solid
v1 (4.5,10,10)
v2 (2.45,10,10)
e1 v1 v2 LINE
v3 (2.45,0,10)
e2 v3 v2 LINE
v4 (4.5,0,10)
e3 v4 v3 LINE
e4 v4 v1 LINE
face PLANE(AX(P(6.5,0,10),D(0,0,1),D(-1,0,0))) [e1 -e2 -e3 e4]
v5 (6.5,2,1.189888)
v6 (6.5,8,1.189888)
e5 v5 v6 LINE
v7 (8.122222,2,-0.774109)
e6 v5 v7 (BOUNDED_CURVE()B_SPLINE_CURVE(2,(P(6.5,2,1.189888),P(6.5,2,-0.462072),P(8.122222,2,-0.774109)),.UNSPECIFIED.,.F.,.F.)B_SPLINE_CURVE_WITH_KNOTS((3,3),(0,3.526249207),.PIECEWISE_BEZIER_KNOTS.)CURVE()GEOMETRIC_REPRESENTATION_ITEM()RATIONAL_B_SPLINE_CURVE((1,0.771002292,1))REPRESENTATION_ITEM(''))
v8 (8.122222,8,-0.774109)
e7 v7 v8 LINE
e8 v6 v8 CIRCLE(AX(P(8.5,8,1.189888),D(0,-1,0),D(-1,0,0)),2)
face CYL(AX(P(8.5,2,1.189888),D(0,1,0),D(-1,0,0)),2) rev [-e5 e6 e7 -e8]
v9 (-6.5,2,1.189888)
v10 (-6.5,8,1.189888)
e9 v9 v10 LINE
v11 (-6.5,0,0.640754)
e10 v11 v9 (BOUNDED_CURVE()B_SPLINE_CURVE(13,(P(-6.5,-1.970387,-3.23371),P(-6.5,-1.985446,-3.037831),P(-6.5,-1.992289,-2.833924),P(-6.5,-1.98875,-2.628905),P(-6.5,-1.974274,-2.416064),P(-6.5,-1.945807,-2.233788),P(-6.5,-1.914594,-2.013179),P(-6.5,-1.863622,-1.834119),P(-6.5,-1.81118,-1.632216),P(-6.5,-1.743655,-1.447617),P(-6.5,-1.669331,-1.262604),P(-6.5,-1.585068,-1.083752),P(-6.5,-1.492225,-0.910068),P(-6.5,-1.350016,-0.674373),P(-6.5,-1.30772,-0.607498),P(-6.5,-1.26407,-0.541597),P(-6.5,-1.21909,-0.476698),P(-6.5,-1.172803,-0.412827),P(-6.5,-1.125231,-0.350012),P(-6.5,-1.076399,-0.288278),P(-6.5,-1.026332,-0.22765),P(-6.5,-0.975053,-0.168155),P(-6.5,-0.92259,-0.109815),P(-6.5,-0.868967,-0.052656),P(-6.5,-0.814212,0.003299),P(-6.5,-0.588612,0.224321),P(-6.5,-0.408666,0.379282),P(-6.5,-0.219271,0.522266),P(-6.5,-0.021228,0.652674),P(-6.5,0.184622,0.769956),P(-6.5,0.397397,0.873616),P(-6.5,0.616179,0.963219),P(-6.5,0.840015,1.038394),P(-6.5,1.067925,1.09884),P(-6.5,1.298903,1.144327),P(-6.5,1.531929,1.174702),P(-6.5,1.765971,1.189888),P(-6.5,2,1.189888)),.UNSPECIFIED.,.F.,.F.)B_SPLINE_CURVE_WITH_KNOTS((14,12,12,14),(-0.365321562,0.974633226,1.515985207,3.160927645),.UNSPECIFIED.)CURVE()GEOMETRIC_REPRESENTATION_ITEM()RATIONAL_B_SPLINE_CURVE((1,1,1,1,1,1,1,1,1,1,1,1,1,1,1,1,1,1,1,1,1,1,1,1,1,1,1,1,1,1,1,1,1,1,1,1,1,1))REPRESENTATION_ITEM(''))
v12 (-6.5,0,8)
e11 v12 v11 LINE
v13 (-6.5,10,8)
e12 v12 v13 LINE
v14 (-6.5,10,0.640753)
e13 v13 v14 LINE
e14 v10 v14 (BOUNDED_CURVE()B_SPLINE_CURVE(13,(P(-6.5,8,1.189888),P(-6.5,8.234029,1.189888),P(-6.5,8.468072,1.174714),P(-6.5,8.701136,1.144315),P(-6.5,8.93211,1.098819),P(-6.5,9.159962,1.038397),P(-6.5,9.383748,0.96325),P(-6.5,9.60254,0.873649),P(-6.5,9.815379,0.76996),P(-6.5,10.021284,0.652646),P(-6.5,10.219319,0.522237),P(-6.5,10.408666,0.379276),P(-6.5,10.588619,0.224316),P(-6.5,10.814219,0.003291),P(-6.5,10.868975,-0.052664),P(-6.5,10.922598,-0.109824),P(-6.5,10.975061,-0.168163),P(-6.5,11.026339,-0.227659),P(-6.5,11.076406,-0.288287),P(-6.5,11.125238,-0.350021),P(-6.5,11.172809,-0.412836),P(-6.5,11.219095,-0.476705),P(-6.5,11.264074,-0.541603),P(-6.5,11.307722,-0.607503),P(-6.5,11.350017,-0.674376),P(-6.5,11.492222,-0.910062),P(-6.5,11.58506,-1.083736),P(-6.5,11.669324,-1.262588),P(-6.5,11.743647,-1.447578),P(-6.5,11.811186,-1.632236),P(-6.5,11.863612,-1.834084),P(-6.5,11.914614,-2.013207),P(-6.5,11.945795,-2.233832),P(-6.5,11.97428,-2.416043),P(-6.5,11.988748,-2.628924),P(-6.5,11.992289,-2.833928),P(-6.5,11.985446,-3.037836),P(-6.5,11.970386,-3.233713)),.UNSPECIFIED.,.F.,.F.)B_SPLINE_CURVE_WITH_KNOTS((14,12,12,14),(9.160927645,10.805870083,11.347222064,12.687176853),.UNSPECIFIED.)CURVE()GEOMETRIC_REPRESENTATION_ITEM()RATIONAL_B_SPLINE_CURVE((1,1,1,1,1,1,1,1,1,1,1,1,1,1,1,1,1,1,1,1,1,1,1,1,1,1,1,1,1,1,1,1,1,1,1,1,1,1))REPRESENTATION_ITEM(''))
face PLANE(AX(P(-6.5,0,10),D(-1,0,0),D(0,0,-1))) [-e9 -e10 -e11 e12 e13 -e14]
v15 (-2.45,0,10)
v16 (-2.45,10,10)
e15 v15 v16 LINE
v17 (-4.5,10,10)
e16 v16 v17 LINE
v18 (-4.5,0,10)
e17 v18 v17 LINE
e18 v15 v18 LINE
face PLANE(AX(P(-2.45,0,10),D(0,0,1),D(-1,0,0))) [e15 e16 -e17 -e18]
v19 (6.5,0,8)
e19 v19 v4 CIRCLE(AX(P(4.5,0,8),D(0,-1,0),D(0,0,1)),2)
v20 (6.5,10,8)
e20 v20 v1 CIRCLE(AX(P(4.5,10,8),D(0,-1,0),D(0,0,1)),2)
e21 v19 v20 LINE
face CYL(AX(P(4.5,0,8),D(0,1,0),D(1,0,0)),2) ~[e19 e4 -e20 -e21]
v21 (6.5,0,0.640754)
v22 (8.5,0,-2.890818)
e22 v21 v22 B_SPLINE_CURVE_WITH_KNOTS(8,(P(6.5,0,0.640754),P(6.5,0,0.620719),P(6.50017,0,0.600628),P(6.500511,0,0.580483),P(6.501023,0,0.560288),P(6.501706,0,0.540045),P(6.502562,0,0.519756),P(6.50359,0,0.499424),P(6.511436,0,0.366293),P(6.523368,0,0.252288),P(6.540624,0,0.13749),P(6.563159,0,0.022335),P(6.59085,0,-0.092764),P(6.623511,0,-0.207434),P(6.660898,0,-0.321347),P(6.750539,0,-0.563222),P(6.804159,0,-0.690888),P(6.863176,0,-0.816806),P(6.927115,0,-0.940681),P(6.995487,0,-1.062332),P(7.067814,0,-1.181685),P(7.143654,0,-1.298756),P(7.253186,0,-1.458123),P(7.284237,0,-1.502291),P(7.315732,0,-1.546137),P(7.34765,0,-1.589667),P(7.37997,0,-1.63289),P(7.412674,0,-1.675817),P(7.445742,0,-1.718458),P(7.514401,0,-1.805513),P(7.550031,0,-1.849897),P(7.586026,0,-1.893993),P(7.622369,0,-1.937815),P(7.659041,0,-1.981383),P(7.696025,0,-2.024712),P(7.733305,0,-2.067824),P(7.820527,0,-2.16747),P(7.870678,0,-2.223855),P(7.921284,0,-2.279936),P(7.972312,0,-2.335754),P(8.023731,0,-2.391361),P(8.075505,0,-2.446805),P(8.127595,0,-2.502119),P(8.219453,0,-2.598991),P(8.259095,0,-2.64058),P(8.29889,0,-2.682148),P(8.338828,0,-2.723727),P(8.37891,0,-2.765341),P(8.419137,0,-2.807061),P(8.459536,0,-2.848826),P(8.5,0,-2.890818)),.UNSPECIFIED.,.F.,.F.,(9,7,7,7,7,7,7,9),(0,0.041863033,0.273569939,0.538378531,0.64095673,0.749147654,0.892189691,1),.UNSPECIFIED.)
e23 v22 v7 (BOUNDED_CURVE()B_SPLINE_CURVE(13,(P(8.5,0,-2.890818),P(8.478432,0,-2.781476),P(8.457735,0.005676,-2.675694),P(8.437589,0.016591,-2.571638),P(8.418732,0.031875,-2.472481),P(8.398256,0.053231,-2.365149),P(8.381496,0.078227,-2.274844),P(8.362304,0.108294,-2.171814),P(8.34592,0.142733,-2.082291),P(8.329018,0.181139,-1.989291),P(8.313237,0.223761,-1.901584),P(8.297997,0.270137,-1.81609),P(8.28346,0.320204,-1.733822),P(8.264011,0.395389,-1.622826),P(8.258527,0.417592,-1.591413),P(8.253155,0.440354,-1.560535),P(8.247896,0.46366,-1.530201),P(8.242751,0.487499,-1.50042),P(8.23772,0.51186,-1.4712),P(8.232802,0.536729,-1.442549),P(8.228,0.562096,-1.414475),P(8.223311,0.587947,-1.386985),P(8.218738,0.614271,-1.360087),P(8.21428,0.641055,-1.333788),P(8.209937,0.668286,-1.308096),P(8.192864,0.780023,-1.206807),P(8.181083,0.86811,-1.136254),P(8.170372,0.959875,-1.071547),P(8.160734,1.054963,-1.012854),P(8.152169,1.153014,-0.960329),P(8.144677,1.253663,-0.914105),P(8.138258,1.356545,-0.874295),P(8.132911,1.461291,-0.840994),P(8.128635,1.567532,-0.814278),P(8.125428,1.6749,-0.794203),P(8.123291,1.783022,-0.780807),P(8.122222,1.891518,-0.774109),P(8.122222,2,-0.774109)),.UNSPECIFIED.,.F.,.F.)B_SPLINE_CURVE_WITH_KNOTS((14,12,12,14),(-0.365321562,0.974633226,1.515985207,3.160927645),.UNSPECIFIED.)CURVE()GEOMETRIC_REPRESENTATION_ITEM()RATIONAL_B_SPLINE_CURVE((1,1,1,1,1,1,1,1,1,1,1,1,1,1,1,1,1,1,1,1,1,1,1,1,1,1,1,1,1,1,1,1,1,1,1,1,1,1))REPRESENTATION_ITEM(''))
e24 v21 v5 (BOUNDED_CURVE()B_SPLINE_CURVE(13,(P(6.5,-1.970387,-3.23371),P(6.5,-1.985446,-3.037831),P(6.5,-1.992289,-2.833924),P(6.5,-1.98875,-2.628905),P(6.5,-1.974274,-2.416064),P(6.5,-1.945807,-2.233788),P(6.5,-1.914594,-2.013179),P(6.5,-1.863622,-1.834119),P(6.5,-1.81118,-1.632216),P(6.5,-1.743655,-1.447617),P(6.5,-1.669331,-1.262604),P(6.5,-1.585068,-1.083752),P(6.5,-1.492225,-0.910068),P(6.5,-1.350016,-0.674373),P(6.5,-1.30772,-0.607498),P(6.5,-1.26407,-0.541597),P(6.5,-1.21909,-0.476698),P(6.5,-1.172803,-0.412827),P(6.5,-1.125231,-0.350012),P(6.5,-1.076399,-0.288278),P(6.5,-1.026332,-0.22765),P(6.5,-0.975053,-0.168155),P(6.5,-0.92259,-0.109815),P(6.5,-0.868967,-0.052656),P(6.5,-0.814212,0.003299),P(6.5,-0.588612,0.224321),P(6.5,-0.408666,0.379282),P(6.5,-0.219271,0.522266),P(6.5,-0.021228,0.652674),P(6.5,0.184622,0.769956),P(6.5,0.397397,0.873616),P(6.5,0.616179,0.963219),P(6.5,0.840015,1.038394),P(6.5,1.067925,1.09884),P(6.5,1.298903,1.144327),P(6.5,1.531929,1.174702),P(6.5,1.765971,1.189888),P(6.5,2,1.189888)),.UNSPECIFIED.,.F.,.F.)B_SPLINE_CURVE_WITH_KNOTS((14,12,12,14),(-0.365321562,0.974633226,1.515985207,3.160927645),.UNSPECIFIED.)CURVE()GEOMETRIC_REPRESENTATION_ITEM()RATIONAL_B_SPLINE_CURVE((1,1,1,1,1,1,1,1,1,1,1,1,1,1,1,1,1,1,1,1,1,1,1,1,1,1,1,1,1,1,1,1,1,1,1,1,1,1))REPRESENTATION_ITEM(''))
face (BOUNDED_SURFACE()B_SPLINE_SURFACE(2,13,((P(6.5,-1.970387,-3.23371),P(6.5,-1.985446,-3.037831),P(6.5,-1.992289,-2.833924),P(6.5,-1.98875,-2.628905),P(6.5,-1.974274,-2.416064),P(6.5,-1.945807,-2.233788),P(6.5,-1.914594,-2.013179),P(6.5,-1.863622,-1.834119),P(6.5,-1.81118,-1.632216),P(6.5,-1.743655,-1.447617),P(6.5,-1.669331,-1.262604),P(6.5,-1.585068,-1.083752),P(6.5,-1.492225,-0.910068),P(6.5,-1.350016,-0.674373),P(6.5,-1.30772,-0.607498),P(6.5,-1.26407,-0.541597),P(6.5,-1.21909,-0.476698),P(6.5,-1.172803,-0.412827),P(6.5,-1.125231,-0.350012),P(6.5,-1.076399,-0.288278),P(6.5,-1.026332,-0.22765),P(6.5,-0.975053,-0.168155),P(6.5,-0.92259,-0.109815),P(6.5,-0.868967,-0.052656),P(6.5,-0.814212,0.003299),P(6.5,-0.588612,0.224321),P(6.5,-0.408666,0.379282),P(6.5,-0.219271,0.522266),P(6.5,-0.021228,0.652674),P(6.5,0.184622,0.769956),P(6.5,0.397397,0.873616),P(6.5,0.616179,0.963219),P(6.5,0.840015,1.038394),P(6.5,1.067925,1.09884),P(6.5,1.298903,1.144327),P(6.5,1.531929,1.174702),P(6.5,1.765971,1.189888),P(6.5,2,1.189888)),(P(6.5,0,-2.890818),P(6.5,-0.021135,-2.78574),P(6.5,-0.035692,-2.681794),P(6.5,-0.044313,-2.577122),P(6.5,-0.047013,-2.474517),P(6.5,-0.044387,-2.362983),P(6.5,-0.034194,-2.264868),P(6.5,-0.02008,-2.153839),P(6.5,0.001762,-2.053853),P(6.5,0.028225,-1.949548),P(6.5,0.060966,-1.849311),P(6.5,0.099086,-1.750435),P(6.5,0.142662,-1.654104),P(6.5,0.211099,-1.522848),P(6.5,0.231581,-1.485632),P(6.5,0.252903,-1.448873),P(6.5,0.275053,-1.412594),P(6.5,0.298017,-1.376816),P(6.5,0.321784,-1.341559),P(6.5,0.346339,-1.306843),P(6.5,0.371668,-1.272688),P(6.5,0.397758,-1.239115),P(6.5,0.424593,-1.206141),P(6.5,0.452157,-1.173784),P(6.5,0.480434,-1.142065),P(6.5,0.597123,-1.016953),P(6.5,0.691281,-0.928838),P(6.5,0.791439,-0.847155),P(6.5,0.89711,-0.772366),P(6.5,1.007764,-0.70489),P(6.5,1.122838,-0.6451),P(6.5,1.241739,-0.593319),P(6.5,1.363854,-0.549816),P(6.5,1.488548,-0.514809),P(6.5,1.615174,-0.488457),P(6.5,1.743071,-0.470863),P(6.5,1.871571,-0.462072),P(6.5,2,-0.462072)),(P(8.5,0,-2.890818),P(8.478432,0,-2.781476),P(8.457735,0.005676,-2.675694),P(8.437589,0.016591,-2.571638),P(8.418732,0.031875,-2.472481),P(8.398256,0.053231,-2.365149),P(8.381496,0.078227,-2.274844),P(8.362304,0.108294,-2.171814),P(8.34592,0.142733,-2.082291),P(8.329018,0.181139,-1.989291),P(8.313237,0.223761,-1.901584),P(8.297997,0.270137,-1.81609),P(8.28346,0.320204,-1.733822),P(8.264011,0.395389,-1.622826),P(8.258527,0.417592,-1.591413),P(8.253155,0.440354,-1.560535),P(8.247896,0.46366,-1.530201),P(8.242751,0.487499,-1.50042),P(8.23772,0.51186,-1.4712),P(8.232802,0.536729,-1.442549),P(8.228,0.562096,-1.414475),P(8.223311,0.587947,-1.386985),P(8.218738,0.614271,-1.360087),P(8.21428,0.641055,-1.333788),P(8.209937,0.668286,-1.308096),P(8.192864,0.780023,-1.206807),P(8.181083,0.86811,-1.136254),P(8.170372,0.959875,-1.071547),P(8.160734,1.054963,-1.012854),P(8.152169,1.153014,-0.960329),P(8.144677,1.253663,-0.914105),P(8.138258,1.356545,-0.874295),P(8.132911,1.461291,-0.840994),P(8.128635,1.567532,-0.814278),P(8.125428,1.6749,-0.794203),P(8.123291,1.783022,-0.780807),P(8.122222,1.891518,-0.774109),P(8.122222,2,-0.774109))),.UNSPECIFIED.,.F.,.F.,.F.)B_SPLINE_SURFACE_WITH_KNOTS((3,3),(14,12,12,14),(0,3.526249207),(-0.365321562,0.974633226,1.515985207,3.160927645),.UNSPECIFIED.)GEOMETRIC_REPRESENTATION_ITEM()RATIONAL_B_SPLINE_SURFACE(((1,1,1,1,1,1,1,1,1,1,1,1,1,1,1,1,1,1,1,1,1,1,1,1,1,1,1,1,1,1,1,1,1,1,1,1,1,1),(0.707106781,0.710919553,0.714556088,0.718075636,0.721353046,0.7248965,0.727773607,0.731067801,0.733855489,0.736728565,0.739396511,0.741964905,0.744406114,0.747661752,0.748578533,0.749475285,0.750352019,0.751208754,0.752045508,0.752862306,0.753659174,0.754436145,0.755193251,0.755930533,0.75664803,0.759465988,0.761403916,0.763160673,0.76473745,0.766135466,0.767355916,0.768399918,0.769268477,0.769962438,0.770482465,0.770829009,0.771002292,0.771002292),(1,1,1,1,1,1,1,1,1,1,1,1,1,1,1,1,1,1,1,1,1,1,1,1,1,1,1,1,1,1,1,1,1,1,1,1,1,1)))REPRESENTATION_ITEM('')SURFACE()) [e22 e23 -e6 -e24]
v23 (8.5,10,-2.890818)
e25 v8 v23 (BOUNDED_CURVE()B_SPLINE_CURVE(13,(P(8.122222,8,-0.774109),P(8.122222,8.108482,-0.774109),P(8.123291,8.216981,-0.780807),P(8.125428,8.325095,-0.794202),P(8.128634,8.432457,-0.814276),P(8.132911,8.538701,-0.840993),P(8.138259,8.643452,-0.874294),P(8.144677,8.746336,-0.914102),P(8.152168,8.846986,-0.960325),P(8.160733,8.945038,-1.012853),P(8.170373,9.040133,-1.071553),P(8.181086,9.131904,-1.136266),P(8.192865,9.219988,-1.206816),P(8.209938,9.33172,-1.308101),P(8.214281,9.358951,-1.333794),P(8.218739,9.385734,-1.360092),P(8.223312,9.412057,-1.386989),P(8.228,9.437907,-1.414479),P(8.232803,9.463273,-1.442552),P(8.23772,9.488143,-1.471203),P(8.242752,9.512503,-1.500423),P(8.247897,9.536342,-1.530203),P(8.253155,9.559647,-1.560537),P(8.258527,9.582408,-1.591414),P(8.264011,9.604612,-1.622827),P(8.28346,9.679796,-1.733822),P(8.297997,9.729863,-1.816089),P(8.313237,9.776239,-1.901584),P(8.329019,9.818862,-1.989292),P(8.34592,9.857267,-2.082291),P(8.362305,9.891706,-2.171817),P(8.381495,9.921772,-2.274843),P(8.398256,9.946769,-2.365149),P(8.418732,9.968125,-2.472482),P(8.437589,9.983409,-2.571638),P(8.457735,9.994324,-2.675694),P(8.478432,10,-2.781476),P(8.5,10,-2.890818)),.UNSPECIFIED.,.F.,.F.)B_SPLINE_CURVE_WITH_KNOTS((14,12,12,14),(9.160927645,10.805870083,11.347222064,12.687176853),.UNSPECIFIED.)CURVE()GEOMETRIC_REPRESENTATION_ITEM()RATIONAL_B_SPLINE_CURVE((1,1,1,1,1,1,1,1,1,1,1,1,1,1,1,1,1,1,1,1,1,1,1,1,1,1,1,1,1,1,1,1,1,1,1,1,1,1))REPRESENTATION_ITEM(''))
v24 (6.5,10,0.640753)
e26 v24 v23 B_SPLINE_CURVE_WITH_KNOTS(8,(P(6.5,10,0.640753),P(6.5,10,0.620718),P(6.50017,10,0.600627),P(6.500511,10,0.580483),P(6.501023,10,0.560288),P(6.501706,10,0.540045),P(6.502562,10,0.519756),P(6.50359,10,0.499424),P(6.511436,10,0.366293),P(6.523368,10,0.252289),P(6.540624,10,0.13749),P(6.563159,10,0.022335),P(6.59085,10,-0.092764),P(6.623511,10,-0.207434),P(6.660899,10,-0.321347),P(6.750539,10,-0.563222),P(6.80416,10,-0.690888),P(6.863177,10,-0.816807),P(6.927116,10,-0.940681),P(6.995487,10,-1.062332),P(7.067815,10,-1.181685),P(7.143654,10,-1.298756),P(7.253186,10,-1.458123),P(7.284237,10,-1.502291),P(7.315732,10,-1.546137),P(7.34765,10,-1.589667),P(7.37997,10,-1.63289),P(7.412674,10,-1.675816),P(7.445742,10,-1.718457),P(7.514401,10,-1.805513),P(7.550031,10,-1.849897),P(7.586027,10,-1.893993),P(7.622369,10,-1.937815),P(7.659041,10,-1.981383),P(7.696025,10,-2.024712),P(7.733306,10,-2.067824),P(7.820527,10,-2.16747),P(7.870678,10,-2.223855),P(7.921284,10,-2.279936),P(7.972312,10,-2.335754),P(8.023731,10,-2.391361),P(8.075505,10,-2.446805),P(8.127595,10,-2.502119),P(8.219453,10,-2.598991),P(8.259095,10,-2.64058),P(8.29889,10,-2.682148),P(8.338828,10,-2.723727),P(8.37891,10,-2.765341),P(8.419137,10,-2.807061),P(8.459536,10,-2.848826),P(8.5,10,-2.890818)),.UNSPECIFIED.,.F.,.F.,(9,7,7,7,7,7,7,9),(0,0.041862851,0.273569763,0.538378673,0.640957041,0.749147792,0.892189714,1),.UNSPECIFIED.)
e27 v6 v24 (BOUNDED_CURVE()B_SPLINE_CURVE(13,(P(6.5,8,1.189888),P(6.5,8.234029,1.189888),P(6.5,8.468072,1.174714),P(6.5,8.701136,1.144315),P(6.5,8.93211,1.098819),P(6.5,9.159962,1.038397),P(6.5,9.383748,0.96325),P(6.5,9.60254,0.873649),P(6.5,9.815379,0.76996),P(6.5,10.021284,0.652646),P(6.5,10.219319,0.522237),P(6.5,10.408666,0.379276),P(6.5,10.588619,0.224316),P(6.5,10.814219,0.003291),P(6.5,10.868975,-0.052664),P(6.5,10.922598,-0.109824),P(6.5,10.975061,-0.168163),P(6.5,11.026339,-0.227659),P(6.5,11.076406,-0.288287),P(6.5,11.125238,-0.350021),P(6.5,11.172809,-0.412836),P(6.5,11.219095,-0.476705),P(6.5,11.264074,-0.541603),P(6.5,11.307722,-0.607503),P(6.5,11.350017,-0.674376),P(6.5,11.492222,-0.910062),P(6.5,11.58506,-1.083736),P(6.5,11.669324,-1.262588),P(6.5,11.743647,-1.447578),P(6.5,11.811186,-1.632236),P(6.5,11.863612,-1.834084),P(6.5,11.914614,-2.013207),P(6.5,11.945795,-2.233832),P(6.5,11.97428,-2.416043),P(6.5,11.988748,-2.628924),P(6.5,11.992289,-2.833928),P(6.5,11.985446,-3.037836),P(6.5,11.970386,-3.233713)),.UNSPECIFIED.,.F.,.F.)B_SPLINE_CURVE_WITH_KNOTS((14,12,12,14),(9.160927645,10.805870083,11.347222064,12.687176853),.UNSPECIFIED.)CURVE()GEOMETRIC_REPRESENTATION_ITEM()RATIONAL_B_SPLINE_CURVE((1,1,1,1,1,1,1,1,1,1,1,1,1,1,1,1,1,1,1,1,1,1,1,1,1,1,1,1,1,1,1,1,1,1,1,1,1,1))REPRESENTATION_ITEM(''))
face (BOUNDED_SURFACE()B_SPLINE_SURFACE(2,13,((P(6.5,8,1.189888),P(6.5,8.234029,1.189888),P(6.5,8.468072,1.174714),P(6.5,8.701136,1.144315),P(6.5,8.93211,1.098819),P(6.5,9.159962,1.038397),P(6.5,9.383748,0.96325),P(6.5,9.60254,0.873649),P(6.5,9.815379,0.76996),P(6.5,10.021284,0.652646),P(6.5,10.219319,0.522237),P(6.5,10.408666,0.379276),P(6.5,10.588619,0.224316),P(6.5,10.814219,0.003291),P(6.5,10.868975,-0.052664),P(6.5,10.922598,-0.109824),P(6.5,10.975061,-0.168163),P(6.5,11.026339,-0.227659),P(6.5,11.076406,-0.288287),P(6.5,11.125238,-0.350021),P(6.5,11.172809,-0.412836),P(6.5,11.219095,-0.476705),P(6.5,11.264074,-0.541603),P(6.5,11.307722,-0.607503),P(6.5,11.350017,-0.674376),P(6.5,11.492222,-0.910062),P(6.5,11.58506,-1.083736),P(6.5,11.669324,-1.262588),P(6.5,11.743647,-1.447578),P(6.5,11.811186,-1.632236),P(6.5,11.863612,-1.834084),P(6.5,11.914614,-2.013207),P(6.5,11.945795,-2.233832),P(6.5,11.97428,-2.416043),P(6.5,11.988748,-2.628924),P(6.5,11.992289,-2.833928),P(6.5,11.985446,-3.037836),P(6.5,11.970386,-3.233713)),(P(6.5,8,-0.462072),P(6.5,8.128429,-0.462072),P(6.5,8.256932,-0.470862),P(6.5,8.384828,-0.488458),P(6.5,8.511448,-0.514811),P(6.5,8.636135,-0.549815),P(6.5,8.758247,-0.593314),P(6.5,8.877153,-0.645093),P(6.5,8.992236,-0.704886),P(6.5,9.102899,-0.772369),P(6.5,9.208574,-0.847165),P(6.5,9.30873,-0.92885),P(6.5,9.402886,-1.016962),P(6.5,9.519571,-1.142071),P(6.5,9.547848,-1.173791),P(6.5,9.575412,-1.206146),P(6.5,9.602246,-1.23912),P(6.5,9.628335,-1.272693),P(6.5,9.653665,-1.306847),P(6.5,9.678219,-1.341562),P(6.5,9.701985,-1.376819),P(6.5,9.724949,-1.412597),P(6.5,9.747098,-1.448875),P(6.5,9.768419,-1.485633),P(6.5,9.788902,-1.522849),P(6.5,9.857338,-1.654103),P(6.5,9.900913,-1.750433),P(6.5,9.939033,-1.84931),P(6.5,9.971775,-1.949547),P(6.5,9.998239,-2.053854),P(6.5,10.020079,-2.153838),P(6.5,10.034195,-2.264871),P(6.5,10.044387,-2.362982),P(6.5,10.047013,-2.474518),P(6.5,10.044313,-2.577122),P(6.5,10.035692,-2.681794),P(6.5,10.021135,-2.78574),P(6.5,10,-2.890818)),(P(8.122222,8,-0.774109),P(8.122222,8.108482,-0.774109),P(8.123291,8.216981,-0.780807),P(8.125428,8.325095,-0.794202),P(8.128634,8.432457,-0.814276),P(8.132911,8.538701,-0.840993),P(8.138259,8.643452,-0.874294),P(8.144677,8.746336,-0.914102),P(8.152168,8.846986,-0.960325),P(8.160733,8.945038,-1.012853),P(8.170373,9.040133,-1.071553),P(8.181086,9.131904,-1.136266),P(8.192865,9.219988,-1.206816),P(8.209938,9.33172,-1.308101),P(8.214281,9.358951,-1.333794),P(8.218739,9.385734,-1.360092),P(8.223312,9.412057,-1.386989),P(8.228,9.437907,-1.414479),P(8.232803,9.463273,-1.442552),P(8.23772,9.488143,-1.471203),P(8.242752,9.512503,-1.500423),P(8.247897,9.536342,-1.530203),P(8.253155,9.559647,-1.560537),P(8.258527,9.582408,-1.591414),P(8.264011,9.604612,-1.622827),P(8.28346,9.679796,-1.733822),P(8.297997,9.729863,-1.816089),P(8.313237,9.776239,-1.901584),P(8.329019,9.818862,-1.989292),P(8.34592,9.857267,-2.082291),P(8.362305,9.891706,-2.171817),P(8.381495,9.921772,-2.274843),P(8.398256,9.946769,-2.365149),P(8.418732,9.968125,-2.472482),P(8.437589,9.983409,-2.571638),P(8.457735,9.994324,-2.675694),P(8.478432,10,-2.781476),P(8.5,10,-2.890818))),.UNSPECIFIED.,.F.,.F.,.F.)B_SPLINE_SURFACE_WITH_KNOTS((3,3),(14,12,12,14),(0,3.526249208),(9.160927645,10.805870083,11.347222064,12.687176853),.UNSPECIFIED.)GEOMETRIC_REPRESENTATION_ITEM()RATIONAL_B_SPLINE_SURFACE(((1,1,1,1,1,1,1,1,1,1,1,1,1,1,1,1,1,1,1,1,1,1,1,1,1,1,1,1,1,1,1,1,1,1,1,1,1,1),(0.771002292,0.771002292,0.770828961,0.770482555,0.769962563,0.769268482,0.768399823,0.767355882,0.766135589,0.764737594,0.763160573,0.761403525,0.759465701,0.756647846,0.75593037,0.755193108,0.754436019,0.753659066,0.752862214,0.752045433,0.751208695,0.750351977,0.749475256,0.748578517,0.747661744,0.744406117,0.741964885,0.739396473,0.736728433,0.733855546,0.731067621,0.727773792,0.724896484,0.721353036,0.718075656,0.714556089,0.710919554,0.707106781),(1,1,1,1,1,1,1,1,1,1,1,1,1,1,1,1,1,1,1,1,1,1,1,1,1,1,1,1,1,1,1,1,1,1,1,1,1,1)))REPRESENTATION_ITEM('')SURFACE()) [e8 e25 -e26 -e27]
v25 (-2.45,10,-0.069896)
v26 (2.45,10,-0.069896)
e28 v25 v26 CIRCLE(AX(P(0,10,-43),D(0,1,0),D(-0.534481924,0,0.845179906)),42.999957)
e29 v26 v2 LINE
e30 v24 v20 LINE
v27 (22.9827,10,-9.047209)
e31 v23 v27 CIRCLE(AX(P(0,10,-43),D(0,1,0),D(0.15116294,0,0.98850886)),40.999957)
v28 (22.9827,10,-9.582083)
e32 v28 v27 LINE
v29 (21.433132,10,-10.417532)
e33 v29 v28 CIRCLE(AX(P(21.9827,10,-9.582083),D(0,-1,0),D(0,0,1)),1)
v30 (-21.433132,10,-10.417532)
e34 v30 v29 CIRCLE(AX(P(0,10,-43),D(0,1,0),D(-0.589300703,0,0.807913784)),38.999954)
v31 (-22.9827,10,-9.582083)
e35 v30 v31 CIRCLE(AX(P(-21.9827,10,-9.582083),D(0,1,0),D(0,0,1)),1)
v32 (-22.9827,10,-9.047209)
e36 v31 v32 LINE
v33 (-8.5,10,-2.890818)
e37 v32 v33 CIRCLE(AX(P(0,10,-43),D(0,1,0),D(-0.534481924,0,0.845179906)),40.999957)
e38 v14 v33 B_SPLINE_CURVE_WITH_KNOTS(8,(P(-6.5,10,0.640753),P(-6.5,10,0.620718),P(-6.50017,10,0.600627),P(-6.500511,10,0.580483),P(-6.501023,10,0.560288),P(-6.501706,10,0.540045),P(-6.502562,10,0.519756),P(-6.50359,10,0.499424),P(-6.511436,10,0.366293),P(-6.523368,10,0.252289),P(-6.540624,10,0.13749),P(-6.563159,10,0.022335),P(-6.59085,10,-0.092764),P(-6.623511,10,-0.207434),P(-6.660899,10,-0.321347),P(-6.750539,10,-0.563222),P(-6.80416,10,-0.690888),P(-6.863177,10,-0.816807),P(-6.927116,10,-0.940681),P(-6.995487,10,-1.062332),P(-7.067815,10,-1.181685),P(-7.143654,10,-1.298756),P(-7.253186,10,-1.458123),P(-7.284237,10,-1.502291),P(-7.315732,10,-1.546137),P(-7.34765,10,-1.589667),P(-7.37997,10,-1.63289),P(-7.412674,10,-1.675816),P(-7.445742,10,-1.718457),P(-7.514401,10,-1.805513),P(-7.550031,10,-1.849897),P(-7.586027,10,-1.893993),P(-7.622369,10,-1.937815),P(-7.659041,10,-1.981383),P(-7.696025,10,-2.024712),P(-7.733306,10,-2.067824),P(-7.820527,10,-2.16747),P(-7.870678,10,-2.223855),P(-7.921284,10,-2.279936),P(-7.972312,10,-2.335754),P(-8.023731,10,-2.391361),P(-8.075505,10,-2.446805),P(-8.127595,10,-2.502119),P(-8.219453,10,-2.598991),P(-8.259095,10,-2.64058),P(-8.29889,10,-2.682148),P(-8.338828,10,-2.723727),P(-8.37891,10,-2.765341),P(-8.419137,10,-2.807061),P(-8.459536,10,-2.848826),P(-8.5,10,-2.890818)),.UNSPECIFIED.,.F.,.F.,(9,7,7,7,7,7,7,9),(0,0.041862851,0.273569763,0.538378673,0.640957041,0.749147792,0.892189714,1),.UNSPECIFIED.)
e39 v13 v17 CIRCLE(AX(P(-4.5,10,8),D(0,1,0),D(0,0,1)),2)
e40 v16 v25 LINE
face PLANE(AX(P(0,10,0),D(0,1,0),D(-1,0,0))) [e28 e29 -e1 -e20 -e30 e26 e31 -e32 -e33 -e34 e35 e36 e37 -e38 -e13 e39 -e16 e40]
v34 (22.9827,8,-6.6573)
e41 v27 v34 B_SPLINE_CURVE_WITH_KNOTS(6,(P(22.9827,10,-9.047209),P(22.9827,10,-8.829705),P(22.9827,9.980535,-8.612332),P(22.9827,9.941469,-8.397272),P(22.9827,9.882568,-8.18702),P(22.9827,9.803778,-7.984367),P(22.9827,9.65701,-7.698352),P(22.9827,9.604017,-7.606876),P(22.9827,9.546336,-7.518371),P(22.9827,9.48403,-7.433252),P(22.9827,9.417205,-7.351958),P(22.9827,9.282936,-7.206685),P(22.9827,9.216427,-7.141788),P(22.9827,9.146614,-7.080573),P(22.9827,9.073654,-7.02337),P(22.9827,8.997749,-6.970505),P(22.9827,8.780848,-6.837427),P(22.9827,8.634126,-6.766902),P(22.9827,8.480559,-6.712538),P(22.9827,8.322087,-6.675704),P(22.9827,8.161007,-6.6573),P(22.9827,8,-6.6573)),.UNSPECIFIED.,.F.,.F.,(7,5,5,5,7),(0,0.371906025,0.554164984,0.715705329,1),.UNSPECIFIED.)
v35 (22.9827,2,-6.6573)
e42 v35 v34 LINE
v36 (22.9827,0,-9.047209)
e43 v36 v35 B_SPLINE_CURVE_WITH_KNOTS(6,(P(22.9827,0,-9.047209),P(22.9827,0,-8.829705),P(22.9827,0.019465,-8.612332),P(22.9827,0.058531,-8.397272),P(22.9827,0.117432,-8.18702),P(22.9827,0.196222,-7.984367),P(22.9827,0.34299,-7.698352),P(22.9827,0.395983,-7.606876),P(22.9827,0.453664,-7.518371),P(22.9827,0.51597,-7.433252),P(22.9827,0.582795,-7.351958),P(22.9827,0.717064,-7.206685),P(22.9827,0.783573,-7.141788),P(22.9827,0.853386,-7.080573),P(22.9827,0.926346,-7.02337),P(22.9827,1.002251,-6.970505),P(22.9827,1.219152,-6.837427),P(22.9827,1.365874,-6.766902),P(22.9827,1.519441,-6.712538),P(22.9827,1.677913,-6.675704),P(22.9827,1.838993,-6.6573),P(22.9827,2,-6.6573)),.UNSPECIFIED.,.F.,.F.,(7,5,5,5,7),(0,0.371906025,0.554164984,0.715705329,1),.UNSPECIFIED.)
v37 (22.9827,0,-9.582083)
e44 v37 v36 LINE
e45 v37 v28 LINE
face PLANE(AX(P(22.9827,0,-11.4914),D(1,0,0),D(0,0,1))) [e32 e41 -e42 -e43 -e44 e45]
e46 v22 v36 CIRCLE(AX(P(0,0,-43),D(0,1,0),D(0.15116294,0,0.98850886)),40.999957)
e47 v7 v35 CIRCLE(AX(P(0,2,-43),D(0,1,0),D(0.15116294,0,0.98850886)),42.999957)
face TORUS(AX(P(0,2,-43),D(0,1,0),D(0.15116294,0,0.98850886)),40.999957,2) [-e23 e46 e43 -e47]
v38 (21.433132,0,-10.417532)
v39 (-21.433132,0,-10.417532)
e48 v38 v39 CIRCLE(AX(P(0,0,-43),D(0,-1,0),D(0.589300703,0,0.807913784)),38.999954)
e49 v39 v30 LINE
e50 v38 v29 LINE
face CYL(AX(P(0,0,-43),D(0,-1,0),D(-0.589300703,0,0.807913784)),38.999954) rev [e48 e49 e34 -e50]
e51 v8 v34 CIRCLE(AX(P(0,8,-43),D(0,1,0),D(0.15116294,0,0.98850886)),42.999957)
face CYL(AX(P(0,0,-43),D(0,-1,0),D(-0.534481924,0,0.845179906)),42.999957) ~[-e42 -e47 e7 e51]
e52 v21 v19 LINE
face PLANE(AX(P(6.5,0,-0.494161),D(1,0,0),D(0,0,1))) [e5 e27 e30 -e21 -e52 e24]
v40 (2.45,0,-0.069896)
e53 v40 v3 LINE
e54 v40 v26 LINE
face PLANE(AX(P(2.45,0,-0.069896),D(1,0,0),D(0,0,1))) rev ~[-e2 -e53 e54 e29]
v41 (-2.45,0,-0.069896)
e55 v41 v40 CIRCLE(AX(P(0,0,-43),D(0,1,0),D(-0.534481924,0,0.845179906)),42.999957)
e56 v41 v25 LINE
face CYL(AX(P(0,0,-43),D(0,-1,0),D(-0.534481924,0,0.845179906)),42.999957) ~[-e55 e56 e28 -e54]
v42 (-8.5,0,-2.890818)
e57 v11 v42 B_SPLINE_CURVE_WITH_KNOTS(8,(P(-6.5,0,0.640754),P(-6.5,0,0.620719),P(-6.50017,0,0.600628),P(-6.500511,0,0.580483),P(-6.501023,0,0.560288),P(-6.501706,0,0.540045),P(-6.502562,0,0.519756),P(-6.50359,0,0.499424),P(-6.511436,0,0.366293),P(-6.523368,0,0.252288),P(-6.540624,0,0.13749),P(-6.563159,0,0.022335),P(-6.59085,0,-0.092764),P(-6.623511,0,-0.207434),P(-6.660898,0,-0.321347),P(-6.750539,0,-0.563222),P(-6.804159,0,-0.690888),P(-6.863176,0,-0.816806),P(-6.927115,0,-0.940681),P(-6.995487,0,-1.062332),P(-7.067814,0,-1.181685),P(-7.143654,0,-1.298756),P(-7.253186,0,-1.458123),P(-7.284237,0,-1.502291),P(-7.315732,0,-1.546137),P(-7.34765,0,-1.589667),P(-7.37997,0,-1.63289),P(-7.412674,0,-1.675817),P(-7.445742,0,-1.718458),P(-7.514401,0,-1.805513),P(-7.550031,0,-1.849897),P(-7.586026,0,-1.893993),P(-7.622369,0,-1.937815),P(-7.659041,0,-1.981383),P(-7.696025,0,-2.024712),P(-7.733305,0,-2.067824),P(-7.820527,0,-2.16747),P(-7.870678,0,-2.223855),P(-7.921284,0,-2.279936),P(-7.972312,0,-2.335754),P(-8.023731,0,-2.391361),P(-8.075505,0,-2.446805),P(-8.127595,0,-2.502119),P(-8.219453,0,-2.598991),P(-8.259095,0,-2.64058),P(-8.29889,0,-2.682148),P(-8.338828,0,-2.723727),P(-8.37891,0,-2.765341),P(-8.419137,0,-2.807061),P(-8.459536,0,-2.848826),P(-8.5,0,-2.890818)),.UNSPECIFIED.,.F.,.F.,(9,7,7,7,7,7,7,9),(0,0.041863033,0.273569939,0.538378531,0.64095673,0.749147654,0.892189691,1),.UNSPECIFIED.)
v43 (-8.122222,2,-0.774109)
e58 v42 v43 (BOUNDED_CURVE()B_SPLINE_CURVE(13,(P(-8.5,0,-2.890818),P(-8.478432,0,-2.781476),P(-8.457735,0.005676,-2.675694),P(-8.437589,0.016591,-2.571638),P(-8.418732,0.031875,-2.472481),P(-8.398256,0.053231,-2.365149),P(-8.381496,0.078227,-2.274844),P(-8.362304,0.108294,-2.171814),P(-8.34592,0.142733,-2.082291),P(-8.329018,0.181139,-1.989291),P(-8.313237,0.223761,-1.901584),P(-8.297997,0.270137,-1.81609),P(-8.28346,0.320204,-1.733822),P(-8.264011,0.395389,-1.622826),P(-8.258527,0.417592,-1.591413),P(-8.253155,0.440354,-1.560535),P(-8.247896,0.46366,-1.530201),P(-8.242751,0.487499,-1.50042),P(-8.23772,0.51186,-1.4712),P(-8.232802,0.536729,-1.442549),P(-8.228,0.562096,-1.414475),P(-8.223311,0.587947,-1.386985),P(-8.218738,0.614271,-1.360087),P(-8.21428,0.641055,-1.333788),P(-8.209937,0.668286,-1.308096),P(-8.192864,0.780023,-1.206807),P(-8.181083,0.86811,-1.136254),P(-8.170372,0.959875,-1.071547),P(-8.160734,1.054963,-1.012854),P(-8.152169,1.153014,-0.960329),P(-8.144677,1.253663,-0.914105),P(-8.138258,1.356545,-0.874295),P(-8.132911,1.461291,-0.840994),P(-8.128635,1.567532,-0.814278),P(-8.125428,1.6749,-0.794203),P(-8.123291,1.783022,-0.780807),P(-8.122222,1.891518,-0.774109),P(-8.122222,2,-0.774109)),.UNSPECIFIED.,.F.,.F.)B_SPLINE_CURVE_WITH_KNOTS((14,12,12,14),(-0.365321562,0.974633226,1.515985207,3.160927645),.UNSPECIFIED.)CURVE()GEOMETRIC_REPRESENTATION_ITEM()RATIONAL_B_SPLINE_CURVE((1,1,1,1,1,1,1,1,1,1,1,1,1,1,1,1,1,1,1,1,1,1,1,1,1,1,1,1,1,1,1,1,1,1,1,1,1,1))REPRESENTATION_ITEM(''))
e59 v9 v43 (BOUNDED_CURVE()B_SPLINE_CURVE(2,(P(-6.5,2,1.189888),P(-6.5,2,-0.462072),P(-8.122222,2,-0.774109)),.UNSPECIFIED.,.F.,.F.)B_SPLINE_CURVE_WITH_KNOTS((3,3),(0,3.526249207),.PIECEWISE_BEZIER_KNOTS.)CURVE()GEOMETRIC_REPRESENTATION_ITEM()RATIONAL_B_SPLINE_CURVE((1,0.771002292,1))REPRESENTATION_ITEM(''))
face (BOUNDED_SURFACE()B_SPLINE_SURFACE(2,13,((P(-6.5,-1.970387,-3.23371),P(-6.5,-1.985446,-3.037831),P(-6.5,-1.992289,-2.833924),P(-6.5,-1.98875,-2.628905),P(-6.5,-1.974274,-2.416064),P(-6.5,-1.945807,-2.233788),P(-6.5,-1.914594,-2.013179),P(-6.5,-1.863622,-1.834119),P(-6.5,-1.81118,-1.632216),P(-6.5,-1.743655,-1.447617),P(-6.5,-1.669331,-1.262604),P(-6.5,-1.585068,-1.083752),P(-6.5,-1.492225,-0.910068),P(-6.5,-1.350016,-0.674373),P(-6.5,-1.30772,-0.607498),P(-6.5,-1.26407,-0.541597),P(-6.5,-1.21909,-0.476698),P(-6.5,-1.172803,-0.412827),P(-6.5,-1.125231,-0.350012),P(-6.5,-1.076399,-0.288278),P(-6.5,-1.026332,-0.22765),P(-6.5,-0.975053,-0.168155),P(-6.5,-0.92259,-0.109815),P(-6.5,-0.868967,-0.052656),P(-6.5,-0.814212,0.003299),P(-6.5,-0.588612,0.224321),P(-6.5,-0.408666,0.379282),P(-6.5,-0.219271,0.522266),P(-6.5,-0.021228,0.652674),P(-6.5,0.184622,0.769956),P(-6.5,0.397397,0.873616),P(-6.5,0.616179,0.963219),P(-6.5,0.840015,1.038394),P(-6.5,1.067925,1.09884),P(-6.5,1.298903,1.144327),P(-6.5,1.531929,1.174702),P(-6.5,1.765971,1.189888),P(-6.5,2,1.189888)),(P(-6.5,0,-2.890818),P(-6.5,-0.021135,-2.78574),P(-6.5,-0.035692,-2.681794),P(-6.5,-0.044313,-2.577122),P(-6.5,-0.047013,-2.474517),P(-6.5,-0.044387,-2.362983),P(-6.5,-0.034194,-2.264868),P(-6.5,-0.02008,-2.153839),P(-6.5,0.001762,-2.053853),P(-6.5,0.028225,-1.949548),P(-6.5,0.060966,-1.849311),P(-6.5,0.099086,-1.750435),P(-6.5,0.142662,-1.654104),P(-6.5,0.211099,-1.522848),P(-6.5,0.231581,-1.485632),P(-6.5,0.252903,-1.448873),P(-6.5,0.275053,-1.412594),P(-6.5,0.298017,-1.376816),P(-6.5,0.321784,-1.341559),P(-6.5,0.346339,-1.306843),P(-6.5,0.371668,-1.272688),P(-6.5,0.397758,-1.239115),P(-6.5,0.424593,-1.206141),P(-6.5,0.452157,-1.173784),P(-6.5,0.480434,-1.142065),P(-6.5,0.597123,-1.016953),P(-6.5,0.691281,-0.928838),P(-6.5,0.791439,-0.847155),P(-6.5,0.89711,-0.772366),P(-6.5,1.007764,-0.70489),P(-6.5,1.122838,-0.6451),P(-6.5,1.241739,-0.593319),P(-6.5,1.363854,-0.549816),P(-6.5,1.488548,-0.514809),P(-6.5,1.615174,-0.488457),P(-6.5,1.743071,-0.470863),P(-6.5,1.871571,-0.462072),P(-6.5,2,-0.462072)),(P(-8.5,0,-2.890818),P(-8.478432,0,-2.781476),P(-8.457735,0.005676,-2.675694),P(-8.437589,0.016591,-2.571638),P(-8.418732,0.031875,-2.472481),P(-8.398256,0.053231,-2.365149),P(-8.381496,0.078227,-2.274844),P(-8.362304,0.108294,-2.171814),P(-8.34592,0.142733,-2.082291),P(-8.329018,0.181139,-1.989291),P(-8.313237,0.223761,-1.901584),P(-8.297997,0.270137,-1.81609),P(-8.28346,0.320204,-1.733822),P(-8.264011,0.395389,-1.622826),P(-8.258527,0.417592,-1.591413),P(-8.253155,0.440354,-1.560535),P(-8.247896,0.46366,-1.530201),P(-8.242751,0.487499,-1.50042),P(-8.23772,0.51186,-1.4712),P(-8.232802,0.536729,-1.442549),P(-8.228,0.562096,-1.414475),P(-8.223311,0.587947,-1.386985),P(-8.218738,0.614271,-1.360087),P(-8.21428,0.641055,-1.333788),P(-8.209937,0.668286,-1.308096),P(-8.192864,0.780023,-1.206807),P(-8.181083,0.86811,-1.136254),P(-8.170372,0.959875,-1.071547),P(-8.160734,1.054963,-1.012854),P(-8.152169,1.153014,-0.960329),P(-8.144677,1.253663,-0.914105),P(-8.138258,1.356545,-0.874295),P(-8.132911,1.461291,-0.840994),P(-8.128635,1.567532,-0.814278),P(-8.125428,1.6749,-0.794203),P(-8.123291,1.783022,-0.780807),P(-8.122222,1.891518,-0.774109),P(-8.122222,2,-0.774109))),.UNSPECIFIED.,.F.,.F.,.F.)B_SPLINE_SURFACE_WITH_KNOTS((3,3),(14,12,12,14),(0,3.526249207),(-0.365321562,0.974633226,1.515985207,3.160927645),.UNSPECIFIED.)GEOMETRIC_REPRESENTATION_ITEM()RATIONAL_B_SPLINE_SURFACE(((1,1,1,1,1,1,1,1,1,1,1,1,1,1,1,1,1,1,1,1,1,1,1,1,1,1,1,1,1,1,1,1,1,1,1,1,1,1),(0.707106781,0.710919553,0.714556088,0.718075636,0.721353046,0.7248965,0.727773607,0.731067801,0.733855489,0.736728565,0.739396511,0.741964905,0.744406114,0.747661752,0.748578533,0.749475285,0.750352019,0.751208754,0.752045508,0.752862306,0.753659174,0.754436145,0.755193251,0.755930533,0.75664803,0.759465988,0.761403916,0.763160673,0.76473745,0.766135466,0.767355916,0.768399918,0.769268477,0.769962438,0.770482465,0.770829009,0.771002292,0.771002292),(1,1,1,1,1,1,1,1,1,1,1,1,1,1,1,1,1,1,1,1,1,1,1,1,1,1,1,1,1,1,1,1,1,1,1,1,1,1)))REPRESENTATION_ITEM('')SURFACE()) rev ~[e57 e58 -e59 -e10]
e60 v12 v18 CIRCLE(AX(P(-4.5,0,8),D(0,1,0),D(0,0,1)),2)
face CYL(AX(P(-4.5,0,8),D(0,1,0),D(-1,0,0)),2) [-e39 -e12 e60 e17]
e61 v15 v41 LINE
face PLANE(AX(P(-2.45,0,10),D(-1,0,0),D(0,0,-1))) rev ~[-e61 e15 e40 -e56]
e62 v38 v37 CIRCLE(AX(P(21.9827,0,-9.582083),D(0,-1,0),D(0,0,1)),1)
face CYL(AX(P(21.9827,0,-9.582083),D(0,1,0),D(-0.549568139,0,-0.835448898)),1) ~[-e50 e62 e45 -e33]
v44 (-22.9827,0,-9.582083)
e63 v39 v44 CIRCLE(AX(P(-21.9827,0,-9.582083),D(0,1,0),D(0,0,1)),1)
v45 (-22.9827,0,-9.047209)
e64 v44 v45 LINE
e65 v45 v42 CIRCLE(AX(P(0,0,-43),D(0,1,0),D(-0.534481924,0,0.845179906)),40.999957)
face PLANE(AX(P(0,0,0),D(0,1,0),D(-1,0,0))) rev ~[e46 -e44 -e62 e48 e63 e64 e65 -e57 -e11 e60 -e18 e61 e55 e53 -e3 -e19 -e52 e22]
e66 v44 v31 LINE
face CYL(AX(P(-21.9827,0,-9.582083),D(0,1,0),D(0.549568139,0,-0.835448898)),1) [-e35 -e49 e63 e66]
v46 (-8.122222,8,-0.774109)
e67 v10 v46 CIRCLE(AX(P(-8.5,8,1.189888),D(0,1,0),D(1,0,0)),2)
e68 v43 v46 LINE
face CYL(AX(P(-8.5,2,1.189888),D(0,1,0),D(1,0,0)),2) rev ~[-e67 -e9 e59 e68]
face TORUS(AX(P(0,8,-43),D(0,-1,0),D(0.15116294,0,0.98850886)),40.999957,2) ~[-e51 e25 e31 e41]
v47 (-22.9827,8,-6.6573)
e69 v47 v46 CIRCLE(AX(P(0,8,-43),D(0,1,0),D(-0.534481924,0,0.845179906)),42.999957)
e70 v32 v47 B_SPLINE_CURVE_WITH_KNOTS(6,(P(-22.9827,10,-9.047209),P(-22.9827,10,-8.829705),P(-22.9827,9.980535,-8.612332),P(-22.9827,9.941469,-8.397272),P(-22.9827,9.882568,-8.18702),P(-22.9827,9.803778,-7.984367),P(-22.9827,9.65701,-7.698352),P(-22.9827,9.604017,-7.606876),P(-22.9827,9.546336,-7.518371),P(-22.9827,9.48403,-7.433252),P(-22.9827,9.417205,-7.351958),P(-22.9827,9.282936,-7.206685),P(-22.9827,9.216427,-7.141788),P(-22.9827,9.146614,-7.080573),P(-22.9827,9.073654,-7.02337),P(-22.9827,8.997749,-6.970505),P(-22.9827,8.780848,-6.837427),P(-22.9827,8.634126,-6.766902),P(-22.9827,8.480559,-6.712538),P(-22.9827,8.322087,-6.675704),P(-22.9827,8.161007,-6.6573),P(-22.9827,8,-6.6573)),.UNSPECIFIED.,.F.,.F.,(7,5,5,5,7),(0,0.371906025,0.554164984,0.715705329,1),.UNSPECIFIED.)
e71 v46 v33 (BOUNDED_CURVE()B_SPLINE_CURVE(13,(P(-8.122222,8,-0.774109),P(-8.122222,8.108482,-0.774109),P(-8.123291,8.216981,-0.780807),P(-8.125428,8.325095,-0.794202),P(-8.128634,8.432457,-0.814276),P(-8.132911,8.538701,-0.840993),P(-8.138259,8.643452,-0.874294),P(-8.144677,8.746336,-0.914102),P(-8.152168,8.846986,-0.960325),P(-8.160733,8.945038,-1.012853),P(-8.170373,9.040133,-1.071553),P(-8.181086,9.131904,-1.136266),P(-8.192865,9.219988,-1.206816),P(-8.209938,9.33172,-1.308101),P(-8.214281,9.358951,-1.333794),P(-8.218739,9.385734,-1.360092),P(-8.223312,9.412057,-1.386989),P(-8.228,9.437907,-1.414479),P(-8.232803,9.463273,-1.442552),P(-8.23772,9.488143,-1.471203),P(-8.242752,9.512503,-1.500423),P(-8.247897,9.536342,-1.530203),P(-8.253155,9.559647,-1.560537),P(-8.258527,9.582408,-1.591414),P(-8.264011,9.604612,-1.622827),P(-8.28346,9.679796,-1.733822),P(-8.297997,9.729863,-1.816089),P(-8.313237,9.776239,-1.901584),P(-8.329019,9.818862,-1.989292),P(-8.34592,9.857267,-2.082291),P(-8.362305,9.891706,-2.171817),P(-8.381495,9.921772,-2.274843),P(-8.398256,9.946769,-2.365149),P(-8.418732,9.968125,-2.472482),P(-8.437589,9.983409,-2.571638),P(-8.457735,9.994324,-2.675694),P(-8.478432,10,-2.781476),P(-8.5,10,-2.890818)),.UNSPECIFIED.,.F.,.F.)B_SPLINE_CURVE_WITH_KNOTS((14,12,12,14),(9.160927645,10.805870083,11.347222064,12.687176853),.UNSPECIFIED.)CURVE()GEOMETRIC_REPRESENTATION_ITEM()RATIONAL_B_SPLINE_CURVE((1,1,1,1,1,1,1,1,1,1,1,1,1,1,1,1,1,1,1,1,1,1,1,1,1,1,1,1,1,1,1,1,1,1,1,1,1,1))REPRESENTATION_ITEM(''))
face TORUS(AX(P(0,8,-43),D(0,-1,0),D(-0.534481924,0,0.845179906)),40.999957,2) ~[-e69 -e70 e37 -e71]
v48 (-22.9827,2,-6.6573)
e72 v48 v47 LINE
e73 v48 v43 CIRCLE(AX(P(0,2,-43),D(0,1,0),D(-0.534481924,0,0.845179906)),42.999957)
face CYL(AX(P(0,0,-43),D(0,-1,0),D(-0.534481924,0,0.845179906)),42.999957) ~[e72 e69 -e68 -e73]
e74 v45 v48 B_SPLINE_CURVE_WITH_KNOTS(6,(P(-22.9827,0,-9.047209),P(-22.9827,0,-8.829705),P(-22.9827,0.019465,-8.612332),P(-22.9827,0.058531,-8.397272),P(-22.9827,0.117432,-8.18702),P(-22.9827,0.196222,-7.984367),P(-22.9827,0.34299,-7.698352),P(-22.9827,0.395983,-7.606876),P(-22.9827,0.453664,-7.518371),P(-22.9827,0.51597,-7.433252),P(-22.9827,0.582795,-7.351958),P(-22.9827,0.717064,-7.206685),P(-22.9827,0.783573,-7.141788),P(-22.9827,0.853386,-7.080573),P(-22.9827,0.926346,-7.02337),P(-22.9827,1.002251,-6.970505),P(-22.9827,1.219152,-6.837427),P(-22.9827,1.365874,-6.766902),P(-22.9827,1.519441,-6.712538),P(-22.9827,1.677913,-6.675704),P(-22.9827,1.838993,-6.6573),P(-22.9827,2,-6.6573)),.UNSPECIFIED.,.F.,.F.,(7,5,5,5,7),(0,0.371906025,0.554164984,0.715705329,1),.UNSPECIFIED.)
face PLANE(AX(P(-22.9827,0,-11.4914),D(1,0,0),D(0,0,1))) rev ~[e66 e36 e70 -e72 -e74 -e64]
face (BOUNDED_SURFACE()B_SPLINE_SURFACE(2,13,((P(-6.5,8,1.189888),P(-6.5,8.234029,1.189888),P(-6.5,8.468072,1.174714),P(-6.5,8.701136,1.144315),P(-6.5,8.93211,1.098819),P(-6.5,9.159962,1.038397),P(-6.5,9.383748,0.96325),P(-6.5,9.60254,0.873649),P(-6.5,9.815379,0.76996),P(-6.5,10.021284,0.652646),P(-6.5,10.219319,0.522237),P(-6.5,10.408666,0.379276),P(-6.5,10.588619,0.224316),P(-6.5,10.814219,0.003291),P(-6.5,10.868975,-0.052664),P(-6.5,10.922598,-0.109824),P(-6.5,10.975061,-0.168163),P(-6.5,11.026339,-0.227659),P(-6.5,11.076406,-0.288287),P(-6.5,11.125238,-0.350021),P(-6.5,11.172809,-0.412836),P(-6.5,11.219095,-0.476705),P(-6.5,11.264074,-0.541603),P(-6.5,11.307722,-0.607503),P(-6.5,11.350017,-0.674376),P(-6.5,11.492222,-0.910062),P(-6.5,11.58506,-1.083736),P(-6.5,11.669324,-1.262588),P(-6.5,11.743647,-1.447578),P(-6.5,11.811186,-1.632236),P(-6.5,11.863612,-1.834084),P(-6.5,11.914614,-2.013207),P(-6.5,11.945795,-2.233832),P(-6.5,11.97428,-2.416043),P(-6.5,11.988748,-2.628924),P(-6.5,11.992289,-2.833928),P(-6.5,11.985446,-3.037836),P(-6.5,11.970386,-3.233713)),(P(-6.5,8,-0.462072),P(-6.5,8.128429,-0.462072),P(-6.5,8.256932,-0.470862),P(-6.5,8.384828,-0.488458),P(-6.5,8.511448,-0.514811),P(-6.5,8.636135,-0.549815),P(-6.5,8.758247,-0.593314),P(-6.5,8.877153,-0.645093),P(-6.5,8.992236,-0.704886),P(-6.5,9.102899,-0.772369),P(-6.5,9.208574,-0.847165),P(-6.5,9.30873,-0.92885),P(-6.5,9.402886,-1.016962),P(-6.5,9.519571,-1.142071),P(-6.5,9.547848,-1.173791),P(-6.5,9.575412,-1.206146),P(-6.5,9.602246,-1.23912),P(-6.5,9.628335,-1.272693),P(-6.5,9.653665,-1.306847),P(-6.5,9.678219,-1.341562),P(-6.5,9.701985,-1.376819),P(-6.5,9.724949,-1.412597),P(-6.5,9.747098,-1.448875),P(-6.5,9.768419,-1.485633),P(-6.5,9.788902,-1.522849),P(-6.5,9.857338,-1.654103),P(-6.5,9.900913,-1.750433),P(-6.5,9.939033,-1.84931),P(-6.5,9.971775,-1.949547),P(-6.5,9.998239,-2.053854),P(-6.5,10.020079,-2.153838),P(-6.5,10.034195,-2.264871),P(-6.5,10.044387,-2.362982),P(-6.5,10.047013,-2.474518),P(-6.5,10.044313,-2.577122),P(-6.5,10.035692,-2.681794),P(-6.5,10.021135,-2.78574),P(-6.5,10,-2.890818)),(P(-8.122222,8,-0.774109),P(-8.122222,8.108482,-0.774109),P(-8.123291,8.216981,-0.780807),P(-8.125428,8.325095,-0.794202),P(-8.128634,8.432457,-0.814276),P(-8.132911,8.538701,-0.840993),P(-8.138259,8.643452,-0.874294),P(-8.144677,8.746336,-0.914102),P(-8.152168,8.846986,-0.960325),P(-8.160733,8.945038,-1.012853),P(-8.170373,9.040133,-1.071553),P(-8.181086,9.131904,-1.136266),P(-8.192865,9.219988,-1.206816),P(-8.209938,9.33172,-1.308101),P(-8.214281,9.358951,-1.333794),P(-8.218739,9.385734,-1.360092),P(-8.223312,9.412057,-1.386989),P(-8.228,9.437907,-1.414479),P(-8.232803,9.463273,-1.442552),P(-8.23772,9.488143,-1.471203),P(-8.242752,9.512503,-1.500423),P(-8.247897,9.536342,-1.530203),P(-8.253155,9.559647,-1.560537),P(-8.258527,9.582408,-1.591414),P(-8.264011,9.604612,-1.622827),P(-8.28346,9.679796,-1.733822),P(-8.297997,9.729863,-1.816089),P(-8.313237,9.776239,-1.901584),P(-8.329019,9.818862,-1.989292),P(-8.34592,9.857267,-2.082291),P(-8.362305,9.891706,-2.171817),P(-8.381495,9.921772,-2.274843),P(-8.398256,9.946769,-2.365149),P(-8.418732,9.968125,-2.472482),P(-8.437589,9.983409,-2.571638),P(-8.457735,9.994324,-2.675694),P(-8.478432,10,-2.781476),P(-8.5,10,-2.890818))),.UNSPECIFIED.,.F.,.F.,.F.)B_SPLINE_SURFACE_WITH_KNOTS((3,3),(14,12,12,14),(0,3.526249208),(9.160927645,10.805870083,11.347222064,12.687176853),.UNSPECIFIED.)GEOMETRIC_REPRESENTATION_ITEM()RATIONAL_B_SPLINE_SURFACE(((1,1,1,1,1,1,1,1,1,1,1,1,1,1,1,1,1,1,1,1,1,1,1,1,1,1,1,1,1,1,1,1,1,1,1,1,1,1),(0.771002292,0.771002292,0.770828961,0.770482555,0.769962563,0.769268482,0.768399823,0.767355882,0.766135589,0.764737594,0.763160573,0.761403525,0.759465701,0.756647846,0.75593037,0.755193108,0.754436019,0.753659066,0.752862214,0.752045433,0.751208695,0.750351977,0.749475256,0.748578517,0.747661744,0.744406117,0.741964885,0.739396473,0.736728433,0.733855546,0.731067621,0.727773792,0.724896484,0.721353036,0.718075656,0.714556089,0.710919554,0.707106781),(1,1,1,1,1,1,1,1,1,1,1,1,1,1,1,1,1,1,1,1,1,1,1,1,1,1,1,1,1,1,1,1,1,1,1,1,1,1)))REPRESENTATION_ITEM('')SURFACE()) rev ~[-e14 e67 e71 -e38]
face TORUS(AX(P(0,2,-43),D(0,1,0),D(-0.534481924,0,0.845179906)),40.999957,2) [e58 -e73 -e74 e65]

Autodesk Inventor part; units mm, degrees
ref_plane "YZ Plane" through (0, 0, 0) normal (1, 0, 0) x (0, 1, 0)
ref_plane "XZ Plane" through (0, 0, 0) normal (0, 1, 0) x (-1, 0, 0)
sketch "스케치1" plane through (0, 0, 0) normal (0, 1, 0) x (-1, 0, 0)
  line L0 (-6.5, -10) -> (-6.5, 10)
  line L1 (6.5, 10) -> (6.5, -10)
  line L2 (6.5, -10) -> (-6.5, 10) construction
  line L3 (-6.5, -10) -> (6.5, 10) construction
  line L4 (2.45, -10) -> (-2.45, -10)
  line L5 (-2.45, -10) -> (-2.45, 10)
  line L6 (-2.45, 10) -> (2.45, 10)
  line L7 (2.45, 10) -> (2.45, -10)
  line L8 (2.45, -10) -> (-2.45, 10) construction
  line L9 (-2.45, -10) -> (2.45, 10) construction
  arc A0 (22.9827, -6.6573) -> (-22.9827, -6.6573) centre (0, -43) ccw
  arc A1 (22.9827, -11.4914) -> (-22.9827, -11.4914) centre (0, -43) ccw
  line L10 (22.9827, -11.4914) -> (22.9827, -6.6573)
  line L11 (-22.9827, -11.4914) -> (-22.9827, -6.6573)
  line L12 (-6.5, 10) -> (-2.45, 10)
  line L13 (2.45, 10) -> (6.5, 10)
  line L14 (6.5, -10) -> (2.45, -10)
  line L15 (-2.45, -10) -> (-6.5, -10)
  point P0 (0, 0)
  point P1 (6.5, -0.4941)
  point P2 (2.45, -0.0699)
  point P3 (-2.45, -0.0699)
  point P4 (-6.5, -0.4941)
  dimension "d0" = 13
  dimension "d1" = 20
  dimension "d2" = 4.9
  dimension "d3" = 86
  dimension "d4" = 4
sketch "스케치2" plane through (0, 0, 0) normal (0, 0, 1) x (1, 0, 0)
  point P0 (0, 0)
ref_plane "작업 평면1" through (0, 0, -43) normal (0, 0, 1) x (1, 0, 0)
sketch "스케치3" plane through (0, 0, -43) normal (0, 0, 1) x (1, 0, 0)
  line L0 (0, 0) -> (-26.5437, 0)
  line L1 (-26.5437, 0) -> (31.7273, 0)
extrude "돌출1" add sketch "스케치1" along normal blind 10 contours A1 L11 A0 L0 | L0 A0 L5 A1 | L0 L12 L5 A0 | L5 A0 L7 A1 | L7 A0 L1 A1 | L7 L13 L1 A0 | L1 A0 L10 A1
fillet "모깎기2" radius 1 2 edges at (22.9827, 5, -11.4914) (-22.9827, 5, -11.4914)
fillet "모깎기3" radius 2 6 edges at (-15.06, 0, -2.7235) (15.06, 0, -2.7235) (15.06, 10, -2.7235) (-15.06, 10, -2.7235) (6.5, 5, 10) (-6.5, 5, 10)
fillet "모깎기4" radius 2 2 edges at (-6.5, 5, -0.4941) (6.5, 5, -0.4941)
properties part number "날개꼽는파트"
